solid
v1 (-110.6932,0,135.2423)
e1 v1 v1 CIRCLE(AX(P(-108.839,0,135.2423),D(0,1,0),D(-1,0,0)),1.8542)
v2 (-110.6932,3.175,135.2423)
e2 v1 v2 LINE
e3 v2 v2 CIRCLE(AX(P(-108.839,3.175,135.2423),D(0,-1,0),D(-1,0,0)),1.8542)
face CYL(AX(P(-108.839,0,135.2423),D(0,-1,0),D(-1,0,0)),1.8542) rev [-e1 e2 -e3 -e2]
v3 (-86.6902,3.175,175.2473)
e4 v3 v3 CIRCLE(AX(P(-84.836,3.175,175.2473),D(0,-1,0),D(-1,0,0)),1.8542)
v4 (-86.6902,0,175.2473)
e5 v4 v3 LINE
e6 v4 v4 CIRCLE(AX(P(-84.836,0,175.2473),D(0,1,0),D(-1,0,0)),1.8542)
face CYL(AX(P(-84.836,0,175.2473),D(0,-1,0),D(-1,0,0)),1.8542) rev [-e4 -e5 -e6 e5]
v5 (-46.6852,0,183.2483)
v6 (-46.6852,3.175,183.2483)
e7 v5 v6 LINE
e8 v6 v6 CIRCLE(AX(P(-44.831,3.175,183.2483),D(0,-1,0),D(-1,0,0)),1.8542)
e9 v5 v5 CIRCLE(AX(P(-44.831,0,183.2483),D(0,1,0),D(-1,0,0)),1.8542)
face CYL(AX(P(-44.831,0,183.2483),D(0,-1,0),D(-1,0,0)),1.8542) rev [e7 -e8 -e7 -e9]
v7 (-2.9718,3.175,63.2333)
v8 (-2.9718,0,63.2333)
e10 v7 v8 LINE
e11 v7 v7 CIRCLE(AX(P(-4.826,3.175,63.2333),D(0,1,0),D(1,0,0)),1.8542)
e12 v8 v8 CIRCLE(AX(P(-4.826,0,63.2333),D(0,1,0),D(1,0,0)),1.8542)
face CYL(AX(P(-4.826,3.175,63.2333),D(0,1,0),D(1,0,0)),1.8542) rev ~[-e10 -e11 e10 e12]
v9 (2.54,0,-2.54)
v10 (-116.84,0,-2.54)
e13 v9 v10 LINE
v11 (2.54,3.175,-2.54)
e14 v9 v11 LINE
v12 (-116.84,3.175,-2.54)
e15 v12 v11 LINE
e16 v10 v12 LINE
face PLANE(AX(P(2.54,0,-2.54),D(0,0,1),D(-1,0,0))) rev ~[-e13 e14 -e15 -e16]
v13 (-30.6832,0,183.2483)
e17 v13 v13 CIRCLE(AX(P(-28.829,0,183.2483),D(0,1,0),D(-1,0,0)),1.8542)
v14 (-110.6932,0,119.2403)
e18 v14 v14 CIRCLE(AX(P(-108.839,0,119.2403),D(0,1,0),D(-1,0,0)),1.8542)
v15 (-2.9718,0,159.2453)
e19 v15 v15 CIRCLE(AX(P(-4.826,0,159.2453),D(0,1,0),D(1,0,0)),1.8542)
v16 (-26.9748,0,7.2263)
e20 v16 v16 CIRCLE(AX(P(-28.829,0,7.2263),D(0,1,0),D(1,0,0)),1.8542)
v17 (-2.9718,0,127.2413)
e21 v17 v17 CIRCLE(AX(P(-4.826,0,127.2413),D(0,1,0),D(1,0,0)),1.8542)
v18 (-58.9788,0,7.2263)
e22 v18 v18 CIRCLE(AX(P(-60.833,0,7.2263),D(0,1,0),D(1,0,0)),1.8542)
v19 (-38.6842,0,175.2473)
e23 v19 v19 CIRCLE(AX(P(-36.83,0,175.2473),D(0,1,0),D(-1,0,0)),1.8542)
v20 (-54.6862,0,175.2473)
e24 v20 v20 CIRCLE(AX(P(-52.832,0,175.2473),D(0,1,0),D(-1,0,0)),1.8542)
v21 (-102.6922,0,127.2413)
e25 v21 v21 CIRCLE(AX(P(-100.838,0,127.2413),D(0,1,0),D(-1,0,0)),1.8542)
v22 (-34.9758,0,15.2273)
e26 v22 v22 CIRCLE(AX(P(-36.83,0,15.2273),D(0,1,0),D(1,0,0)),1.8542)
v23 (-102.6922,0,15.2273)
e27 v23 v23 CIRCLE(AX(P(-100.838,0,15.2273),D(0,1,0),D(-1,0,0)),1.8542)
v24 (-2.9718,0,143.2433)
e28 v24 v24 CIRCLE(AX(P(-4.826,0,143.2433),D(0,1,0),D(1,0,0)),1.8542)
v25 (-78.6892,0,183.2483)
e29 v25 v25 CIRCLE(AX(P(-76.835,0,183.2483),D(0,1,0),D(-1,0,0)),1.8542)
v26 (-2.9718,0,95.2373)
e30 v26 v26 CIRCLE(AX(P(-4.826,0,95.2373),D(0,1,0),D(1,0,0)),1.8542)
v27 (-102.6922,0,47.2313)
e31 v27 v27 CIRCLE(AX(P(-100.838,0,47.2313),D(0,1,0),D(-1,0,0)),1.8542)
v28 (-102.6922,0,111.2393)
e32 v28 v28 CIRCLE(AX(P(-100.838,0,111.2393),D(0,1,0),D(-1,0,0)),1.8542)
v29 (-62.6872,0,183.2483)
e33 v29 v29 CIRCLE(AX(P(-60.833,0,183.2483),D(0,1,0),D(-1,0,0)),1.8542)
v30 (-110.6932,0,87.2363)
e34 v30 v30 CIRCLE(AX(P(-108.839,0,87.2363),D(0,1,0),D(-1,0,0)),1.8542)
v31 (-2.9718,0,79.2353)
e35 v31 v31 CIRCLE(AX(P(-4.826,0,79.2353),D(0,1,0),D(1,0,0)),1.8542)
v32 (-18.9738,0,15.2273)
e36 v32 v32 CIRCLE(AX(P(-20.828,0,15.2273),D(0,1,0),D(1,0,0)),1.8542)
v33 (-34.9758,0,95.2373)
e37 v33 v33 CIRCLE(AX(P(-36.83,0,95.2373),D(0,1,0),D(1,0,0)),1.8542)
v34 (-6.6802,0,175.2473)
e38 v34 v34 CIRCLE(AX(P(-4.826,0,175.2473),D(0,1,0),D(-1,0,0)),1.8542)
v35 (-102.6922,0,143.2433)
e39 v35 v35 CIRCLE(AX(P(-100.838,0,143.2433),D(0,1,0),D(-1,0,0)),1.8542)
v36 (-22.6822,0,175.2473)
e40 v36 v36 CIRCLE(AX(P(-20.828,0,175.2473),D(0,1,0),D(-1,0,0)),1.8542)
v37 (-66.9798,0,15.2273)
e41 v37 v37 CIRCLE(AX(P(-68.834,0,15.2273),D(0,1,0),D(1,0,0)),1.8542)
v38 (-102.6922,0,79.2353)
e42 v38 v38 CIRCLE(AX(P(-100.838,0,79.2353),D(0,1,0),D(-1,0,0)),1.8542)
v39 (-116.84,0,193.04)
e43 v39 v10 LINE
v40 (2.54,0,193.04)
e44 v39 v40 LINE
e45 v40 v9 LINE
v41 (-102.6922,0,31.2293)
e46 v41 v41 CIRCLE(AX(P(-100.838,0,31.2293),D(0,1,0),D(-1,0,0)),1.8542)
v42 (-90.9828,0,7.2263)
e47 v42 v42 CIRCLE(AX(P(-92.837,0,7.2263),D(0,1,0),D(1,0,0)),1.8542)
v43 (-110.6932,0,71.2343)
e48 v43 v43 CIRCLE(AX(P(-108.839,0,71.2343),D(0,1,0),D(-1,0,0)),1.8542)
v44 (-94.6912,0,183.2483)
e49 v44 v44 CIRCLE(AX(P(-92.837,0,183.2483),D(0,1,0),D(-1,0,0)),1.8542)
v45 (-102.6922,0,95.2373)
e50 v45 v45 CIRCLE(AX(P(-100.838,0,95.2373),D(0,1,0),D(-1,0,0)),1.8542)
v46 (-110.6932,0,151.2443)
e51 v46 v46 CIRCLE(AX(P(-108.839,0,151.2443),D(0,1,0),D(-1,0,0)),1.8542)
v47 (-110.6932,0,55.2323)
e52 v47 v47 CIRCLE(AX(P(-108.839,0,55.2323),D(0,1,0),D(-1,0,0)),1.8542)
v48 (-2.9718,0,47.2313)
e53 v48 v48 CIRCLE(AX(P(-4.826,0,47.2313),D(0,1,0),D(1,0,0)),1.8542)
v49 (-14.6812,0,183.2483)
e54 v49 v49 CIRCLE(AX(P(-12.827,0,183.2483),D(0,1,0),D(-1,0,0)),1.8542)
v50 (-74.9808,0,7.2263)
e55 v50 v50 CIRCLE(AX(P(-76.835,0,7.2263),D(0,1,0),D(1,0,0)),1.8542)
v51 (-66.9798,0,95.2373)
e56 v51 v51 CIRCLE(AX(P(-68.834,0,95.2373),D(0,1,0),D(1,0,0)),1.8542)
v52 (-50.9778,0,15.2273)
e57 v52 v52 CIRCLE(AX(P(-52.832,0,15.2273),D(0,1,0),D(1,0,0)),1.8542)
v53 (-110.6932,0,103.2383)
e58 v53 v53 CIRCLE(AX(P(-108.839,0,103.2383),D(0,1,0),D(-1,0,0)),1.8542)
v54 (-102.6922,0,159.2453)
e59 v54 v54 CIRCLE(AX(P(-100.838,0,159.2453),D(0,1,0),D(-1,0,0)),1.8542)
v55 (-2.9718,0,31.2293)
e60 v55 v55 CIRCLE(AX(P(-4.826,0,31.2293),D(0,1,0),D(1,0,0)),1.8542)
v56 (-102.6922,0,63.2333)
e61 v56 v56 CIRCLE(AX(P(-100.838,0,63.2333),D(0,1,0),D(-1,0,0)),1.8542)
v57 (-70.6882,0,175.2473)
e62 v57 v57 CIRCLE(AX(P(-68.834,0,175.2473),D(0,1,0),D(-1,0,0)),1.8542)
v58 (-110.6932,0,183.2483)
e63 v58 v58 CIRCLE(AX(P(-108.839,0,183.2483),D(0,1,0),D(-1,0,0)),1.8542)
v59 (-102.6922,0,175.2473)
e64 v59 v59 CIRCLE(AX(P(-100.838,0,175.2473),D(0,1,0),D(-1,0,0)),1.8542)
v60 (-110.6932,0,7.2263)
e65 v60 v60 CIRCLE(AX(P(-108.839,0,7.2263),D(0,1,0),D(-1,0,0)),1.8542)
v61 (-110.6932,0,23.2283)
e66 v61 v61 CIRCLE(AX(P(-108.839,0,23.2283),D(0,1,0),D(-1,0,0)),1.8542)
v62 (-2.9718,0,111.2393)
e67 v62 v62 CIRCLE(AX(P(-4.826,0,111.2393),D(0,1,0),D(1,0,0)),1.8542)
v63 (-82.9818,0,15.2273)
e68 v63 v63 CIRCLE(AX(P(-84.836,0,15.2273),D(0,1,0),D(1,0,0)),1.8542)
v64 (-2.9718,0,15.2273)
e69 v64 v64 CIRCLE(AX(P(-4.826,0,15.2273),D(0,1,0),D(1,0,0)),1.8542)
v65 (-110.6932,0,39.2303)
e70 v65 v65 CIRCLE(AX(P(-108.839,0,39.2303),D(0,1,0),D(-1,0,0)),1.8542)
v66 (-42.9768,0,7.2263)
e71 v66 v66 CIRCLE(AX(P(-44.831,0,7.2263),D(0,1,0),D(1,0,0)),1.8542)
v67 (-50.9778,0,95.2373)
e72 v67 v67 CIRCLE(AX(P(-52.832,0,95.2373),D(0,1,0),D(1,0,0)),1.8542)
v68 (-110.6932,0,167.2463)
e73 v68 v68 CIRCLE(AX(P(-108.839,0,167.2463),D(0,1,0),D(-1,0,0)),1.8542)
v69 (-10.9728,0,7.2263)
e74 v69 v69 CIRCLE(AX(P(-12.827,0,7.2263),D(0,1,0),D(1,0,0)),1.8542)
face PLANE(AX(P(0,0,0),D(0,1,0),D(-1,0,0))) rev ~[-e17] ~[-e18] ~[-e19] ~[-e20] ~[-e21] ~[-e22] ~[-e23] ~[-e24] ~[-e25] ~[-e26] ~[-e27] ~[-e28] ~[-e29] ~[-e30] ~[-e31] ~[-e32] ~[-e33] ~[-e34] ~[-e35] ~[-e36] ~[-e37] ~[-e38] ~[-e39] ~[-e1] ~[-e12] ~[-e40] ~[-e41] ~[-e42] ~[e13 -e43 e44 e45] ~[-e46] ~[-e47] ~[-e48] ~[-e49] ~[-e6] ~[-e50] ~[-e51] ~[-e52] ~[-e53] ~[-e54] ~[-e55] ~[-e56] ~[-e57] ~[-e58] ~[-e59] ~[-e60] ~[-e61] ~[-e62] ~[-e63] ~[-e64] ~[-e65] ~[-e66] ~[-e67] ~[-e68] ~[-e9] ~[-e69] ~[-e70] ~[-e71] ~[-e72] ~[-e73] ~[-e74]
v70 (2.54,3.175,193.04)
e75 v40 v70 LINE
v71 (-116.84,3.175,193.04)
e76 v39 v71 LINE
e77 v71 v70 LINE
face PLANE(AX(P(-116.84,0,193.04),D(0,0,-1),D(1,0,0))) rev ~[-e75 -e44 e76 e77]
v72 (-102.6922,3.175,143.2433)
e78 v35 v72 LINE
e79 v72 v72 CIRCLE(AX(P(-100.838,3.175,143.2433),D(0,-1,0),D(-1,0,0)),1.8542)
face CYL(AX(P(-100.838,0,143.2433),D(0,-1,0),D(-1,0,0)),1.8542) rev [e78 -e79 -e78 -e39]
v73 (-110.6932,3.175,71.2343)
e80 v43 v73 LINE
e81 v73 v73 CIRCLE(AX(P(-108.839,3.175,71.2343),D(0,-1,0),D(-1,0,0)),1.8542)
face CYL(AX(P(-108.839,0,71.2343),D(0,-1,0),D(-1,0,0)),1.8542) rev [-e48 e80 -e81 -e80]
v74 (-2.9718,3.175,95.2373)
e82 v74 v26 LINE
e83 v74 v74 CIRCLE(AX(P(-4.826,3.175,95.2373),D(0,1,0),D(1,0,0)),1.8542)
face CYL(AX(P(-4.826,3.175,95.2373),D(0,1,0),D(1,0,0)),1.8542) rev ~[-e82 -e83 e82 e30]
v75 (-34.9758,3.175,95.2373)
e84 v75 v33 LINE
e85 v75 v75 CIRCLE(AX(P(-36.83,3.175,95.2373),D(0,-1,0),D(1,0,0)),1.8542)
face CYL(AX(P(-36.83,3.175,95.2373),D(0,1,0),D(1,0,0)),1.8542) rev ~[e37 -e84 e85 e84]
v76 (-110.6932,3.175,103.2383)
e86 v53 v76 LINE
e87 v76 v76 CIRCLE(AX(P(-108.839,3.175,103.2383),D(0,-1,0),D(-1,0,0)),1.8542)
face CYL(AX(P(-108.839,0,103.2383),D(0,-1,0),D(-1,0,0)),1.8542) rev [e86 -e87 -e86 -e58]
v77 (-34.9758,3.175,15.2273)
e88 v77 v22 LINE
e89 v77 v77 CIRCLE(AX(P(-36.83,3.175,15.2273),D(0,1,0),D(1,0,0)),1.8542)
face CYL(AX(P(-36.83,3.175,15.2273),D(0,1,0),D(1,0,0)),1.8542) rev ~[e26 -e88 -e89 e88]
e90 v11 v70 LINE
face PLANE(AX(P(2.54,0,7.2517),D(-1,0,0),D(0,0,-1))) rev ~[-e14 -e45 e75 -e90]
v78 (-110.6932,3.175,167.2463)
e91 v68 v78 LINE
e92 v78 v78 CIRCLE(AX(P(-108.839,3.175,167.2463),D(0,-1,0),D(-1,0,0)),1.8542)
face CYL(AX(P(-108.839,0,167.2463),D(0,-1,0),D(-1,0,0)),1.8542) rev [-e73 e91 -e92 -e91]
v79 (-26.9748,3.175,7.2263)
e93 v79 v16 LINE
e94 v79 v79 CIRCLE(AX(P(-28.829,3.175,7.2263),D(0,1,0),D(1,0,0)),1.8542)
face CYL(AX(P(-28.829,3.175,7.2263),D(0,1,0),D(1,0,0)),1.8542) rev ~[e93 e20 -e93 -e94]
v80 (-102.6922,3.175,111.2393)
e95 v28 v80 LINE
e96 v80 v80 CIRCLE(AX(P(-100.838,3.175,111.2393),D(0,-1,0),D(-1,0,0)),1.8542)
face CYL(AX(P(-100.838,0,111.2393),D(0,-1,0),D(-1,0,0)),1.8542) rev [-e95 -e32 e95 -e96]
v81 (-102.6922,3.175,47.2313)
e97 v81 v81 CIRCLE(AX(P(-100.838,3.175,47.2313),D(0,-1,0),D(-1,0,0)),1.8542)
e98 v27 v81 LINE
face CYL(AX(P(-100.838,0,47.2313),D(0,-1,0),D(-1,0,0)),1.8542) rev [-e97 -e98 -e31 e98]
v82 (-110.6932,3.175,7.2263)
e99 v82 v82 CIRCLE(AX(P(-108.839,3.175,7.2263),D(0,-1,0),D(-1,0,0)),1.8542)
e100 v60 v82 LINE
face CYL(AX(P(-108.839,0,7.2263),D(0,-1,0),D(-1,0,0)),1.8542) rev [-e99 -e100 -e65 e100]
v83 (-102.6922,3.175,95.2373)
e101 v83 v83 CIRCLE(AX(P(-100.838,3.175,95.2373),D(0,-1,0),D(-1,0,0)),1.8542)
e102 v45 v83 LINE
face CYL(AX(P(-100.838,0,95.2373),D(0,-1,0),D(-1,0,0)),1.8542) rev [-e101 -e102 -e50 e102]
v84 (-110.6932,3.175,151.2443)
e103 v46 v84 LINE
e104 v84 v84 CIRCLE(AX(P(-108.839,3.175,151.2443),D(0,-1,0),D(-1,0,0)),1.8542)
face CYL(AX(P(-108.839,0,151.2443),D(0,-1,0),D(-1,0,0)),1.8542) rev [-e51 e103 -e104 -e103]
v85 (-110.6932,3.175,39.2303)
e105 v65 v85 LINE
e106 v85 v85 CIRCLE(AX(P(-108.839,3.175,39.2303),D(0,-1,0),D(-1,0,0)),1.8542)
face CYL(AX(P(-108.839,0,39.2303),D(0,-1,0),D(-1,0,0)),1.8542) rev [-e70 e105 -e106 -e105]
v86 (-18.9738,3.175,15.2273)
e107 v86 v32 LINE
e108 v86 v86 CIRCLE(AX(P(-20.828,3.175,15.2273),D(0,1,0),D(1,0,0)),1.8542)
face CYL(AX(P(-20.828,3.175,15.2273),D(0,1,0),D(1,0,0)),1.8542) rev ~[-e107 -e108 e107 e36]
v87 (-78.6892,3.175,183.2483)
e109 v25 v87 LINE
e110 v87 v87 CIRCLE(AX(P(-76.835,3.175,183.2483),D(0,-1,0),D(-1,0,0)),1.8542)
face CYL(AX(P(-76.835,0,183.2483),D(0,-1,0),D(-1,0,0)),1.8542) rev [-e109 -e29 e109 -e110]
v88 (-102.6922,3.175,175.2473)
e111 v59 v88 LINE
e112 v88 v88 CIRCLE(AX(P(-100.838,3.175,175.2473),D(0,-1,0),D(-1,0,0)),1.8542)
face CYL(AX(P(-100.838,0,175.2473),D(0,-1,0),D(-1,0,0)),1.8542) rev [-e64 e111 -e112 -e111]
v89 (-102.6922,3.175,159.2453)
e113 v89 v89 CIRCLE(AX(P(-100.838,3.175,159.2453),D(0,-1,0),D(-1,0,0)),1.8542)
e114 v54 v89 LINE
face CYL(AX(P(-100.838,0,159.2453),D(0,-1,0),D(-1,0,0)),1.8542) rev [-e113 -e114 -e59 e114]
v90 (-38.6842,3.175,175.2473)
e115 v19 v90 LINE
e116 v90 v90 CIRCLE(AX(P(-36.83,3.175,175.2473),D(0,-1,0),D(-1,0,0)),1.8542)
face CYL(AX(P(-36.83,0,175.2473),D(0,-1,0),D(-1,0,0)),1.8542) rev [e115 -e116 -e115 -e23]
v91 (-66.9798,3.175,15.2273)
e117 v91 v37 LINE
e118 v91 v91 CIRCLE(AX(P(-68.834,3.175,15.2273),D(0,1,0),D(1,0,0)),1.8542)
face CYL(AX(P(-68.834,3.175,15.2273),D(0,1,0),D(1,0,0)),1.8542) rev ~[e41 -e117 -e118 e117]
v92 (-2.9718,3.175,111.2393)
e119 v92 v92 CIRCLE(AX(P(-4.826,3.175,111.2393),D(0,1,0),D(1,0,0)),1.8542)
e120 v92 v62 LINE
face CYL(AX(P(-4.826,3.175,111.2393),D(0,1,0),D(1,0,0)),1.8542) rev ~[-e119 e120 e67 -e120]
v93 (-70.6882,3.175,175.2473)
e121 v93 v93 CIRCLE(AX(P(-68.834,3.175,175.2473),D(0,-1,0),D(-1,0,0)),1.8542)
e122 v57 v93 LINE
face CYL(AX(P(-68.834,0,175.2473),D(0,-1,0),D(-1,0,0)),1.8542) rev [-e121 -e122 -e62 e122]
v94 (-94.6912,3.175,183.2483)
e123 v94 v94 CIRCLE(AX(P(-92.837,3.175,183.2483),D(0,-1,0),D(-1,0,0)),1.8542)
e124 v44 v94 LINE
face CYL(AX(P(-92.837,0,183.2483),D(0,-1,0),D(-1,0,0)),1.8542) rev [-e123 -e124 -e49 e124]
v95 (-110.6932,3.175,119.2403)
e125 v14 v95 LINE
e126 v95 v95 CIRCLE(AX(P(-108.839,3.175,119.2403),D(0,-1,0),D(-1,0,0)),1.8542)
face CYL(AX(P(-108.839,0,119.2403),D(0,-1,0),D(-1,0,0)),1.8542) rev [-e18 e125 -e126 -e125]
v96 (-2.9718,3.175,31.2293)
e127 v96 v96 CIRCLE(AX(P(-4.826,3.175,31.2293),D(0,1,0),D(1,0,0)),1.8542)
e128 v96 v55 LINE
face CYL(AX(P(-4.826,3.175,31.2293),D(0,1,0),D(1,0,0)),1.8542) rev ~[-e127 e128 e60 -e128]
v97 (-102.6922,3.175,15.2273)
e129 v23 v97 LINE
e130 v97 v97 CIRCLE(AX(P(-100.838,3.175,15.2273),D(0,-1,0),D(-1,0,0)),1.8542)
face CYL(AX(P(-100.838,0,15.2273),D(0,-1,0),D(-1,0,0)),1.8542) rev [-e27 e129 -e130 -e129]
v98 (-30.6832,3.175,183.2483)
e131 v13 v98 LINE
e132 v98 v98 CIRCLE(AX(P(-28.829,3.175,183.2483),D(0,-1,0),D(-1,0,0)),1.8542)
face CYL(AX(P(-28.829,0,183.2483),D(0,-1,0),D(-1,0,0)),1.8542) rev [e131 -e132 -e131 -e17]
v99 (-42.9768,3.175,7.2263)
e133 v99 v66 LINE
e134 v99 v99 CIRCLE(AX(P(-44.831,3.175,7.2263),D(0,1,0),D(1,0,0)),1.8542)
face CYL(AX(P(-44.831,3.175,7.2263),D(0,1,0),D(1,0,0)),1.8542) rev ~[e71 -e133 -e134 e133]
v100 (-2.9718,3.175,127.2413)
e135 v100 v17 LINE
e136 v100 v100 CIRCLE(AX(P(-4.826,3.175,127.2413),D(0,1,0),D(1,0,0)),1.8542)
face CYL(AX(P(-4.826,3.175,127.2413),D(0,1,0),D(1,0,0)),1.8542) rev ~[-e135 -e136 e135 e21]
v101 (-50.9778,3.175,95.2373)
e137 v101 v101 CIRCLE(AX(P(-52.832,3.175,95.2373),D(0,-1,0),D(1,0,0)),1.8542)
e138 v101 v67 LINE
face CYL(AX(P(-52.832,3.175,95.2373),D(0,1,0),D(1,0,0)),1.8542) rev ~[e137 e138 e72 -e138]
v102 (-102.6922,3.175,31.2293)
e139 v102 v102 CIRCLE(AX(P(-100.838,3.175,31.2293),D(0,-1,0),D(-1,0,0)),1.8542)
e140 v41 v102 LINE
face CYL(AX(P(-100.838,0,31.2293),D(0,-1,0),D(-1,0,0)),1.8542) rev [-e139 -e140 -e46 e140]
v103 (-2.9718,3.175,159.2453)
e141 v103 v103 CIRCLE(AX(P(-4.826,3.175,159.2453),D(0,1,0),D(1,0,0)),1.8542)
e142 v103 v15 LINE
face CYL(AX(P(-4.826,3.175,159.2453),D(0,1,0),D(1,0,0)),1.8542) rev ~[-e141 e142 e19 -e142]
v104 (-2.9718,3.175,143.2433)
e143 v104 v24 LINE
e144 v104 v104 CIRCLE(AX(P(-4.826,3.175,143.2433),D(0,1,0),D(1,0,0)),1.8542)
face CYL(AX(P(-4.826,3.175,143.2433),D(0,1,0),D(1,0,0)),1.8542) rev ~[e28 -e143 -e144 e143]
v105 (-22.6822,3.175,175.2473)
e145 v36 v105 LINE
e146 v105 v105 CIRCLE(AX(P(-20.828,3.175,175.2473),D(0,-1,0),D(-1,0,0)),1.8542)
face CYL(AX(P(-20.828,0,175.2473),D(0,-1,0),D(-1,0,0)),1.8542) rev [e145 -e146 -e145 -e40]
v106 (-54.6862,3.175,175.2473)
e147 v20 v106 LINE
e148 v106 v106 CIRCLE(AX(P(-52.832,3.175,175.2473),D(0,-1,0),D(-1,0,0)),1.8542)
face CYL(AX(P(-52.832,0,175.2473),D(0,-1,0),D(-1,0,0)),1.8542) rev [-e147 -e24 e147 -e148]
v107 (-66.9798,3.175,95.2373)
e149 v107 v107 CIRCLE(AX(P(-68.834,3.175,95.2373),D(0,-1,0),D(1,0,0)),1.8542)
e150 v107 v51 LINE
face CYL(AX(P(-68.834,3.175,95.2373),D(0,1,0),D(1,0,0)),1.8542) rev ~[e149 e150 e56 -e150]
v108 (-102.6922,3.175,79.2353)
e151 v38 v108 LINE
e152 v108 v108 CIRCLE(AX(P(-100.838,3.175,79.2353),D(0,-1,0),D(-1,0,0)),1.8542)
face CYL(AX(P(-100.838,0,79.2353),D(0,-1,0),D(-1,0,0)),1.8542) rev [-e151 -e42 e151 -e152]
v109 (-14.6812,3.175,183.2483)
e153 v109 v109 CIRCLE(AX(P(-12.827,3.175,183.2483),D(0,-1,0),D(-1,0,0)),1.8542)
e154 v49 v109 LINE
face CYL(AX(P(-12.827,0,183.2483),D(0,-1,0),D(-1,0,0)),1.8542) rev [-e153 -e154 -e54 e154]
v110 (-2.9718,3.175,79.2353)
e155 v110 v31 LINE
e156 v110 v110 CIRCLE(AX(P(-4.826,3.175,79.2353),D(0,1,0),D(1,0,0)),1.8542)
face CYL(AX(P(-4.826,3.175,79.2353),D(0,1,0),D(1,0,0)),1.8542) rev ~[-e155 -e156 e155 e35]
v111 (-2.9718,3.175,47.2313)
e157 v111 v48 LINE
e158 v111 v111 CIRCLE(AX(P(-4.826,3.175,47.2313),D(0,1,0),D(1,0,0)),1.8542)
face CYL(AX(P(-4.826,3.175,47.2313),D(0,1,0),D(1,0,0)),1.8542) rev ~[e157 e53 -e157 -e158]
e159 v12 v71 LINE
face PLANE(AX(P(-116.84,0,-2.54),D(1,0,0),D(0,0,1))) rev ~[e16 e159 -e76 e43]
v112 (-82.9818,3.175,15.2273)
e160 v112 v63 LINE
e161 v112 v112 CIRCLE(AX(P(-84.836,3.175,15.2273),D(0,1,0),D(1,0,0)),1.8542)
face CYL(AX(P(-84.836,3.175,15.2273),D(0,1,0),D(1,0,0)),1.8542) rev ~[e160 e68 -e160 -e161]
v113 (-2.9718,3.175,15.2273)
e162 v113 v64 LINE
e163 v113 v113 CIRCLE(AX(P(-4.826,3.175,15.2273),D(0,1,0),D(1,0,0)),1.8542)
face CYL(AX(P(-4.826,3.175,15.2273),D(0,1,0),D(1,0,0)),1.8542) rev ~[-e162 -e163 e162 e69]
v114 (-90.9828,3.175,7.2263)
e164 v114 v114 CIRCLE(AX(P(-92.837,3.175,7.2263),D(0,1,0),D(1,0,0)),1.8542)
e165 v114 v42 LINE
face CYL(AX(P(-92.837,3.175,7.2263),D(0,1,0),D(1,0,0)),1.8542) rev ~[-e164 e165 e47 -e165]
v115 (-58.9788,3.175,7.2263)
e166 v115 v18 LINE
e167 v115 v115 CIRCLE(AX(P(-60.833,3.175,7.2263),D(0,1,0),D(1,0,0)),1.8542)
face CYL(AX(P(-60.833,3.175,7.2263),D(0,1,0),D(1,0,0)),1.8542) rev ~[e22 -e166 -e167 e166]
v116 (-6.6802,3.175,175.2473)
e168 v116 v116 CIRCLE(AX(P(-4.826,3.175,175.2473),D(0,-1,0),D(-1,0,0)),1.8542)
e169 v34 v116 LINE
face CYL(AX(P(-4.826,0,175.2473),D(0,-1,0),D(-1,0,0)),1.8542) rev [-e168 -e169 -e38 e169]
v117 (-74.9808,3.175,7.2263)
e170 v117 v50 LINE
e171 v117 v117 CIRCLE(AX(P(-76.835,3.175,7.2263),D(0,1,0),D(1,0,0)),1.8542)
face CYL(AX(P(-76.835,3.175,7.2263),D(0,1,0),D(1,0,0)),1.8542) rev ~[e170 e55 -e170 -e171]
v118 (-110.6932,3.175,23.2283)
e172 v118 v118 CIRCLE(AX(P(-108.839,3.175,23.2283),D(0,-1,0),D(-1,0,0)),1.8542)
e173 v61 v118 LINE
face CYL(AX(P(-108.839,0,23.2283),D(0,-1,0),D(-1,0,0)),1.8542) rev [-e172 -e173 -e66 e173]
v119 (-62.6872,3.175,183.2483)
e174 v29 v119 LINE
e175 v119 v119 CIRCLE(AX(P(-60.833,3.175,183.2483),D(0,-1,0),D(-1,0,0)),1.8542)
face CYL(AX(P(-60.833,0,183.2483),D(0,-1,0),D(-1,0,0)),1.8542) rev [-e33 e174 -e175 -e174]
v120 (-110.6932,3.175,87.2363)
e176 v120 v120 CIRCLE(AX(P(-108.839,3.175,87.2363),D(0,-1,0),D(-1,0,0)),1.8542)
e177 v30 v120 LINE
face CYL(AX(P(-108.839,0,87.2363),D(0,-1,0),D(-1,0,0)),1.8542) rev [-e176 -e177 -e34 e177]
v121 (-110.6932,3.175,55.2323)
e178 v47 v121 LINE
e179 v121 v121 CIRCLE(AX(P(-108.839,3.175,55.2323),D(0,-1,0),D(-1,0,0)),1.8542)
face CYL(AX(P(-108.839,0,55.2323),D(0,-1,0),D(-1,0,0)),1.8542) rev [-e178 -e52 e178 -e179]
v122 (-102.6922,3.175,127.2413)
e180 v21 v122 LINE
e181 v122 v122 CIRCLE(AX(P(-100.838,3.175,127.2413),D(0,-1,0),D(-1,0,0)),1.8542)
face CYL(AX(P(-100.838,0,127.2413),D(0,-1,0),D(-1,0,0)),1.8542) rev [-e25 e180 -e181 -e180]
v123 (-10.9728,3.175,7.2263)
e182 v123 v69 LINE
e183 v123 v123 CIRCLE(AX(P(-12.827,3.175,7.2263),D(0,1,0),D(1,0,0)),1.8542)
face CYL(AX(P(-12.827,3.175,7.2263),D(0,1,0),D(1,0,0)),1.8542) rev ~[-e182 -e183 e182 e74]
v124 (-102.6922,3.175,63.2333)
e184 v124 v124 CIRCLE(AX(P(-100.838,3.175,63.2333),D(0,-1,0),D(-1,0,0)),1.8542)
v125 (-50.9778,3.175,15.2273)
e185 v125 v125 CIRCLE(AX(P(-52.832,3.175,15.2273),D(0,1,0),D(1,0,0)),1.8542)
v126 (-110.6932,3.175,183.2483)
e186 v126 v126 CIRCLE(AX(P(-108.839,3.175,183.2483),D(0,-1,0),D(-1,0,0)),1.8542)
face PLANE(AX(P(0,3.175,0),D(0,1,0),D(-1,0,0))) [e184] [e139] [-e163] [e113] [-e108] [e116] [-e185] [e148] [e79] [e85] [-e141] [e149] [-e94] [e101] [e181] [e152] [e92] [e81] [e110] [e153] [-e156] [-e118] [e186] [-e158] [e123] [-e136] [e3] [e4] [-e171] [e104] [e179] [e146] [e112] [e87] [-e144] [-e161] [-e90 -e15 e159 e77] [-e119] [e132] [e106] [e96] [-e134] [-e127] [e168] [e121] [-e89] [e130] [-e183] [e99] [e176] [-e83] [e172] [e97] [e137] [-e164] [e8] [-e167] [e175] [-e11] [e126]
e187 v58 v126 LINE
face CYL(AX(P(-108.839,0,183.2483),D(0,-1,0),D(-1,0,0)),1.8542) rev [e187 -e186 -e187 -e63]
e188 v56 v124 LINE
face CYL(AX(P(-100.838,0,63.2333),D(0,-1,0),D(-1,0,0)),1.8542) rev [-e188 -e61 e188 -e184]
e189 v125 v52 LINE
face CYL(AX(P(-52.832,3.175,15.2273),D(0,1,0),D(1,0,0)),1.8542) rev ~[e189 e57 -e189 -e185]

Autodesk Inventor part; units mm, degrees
ref_plane "YZ Plane" through (0, 0, 0) normal (1, 0, 0) x (0, 1, 0)
ref_plane "XZ Plane" through (0, 0, 0) normal (0, 1, 0) x (-1, 0, 0)
ref_plane "XY Plane" through (0, 0, 0) normal (0, 0, 1) x (1, 0, 0)
sketch "Sketch1" plane through (0, 0, 0) normal (0, 1, 0) x (-1, 0, 0)
  arc A0 (334.15, 5.5) -> (337.85, 5.5) centre (336, 5.5) ccw
  arc A1 (345.85, 13.5) -> (342.15, 13.5) centre (344, 13.5) ccw
  arc A2 (329.85, 13.5) -> (326.15, 13.5) centre (328, 13.5) ccw
  arc A3 (328.4931, 19.1569) -> (332.1931, 19.1569) centre (330.3431, 19.1569) ccw
  arc A4 (334.15, 21.5) -> (337.85, 21.5) centre (336, 21.5) ccw
  arc A5 (332, 13.5) -> (340, 13.5) centre (336, 13.5) ccw
  arc A6 (337.85, 181.5) -> (334.15, 181.5) centre (336, 181.5) ccw
  arc A7 (334.15, 197.5) -> (337.85, 197.5) centre (336, 197.5) ccw
  arc A8 (340, 189.5) -> (332, 189.5) centre (336, 189.5) ccw
  arc A9 (329.85, 189.5) -> (326.15, 189.5) centre (328, 189.5) ccw
  arc A10 (345.85, 189.5) -> (342.15, 189.5) centre (344, 189.5) ccw
  line L0 (352, 176) -> (352, 203)
  arc A11 (244, 13.5) -> (236, 13.5) centre (240, 13.5) ccw
  arc A12 (241.85, 21.5) -> (238.15, 21.5) centre (240, 21.5) ccw
  arc A13 (244, 189.5) -> (236, 189.5) centre (240, 189.5) ccw
  arc A14 (233.85, 189.5) -> (230.15, 189.5) centre (232, 189.5) ccw
  line L1 (228.8458, 84.7173) -> (228.8458, 88.629)
  arc A15 (336, 137.5) -> (336, 145.5) centre (336, 141.5) ccw
  arc A16 (336, 121.5) -> (336, 129.5) centre (336, 125.5) ccw
  arc A17 (336, 105.5) -> (336, 113.5) centre (336, 109.5) ccw
  arc A18 (336, 89.5) -> (336, 97.5) centre (336, 93.5) ccw
  arc A19 (336, 73.5) -> (336, 81.5) centre (336, 77.5) ccw
  arc A20 (336, 57.5) -> (336, 65.5) centre (336, 61.5) ccw
  arc A21 (336, 41.5) -> (336, 49.5) centre (336, 45.5) ccw
  arc A22 (336, 25.5) -> (336, 33.5) centre (336, 29.5) ccw
  arc A23 (336, 153.5) -> (336, 161.5) centre (336, 157.5) ccw
  arc A24 (336, 169.5) -> (336, 177.5) centre (336, 173.5) ccw
  arc A25 (260, 189.5) -> (252, 189.5) centre (256, 189.5) ccw
  arc A26 (276, 189.5) -> (268, 189.5) centre (272, 189.5) ccw
  arc A27 (292, 189.5) -> (284, 189.5) centre (288, 189.5) ccw
  arc A28 (308, 189.5) -> (300, 189.5) centre (304, 189.5) ccw
  arc A29 (324, 189.5) -> (316, 189.5) centre (320, 189.5) ccw
  line L2 (352, 203) -> (228.8458, 203)
  line L3 (228.8458, 203) -> (228.8458, 0)
  line L4 (228.8458, 0) -> (352, 0)
  line L5 (352, 0) -> (352, 203)
  line L6 (-2.54, -2.54) -> (116.84, -2.54)
  line L7 (116.84, -2.54) -> (116.84, 193.04)
  line L8 (116.84, 193.04) -> (-2.54, 193.04)
  line L9 (-2.54, 193.04) -> (-2.54, -2.54)
  line L10 (-2.54, 95.25) -> (-2.54, 183.2483)
  line L11 (-2.54, 183.2483) -> (116.84, 183.2483)
  line L12 (-2.54, 183.2483) -> (-2.54, 7.2517)
  line L13 (-2.54, 7.2517) -> (116.84, 7.2517)
  line L14 (116.84, 183.2483) -> (100.838, 183.2483)
  line L15 (100.838, 183.2483) -> (100.838, 7.2517)
  circle A30 centre (100.838, 183.2483) radius 4.0005
  circle A31 centre (84.836, 183.2483) radius 4.0005
  circle A32 centre (68.834, 183.2483) radius 4.0005
  circle A33 centre (52.832, 183.2483) radius 4.0005
  circle A34 centre (36.83, 183.2483) radius 4.0005
  circle A35 centre (20.828, 183.2483) radius 4.0005
  circle A36 centre (4.826, 183.2483) radius 4.0005
  line L16 (100.838, 183.2483) -> (100.838, 175.2473)
  circle A37 centre (100.838, 175.2473) radius 1.8542
  line L17 (100.838, 183.2483) -> (104.5464, 183.2483)
  line L18 (100.838, 183.2483) -> (108.839, 183.2483)
  circle A38 centre (108.839, 183.2483) radius 1.8542
  point P0 (287.9997, 29.5)
  point P1 (228.8458, 85.5356)
  dimension "d0" = 203
  dimension "d1" = 123.1542
  dimension "d2" = 119.38
  dimension "d3" = 195.58
  dimension "d4" = 87.9983
  dimension "d5" = 175.9966
  dimension "d6" = 16.002
  dimension "d7" = 8.001
  dimension "d10" = 16.002
  dimension "d15" = 8.001
  dimension "d16" = 3.7084
  dimension "d17" = 3.7084
  dimension "d18" = 8.001
  dimension "d19" = 3.7084
extrude "Extrusion1" add sketch "Sketch1" along normal blind 3.175 contours L9 L13 L7 L6 | L9 L11 A36 A35 A34 A33 A32 A31 A30 L15 A37 L13 | L13 L15 A37 A30 L11 A38 L7 | L11 A38 A30 A31 A32 A33 A34 A35 A36 L9 L8 L7 | A37 L15 | L15 A37 | A38 L11 | L11 A38 | A36 L11 | L11 A36 | A30 L11 L15 | L15 L11 A30 | L11 A30 | A35 L11 | L11 A35 | A31 L11 | L11 A31 | A34 L11 | L11 A34 | A32 L11 | L11 A32 | A33 L11 | L11 A33
extrude "Extrusion2" cut sketch "Sketch1" along normal blind 3.175 contours A37 L15 | L15 A37 | A38 L11 | L11 A38
pattern_linear "Rectangular Pattern1" count 7 spacing 16.002 along (1, 0, 0) of "Extrusion2"
pattern_linear "Rectangular Pattern2" count 12 spacing 16.002 along (0, 0, -1) of "Extrusion2"
sketch "Sketch2" plane through (0, 3.175, 0) normal (0, 1, 0) x (1, 0, 0)
  arc A0 (-101.4053, 2.54) -> (-100.2707, 2.54) centre (-100.838, 0.7747) ccw projected
  line L0 (2.54, 2.54) -> (-100.2707, 2.54) projected
  line L1 (-101.4053, 2.54) -> (-100.2707, 2.54)
  point P0 (0, 0)
extrude "Extrusion3" add sketch "Sketch2" against normal up to surface (3.175 mm away)
sketch "Sketch3" plane through (0, 3.175, 0) normal (0, 1, 0) x (1, 0, 0)
  line L0 (2.54, 2.54) -> (-116.84, 2.54) projected
  circle A0 centre (-108.839, -7.2263) radius 1.8542 projected
  circle A1 centre (-100.838, -15.2273) radius 1.8542 projected
  circle A2 centre (-108.839, -7.2263) radius 1.8542
  circle A3 centre (-100.838, -15.2273) radius 1.8542
  circle A4 centre (-92.837, -7.2263) radius 1.8542
  circle A5 centre (-84.836, -15.2273) radius 1.8542
  circle A6 centre (-76.835, -7.2263) radius 1.8542
  circle A7 centre (-68.834, -15.2273) radius 1.8542
  circle A8 centre (-60.833, -7.2263) radius 1.8542
  circle A9 centre (-52.832, -15.2273) radius 1.8542
  circle A10 centre (-44.831, -7.2263) radius 1.8542
  circle A11 centre (-36.83, -15.2273) radius 1.8542
  circle A12 centre (-28.829, -7.2263) radius 1.8542
  circle A13 centre (-20.828, -15.2273) radius 1.8542
  circle A14 centre (-12.827, -7.2263) radius 1.8542
  circle A15 centre (-4.826, -15.2273) radius 1.8542
  point P0 (0, 0)
  dimension "d34" = 16.002
extrude "Extrusion4" cut sketch "Sketch3" against normal blind 3.175 contours A4 | A5 | A6 | A7 | A8 | A9 | A10 | A11 | A12 | A13 | A14 | A15
sketch "Sketch4" plane through (0, 3.175, 0) normal (0, 1, 0) x (1, 0, 0)
  circle A0 centre (-36.83, -15.2273) radius 1.8542 projected
  circle A1 centre (-52.832, -15.2273) radius 1.8542 projected
  circle A2 centre (-68.834, -15.2273) radius 1.8542 projected
  line L0 (2.54, -193.04) -> (2.54, 2.54) projected
  circle A3 centre (-36.83, -175.2473) radius 1.8542 projected
  circle A4 centre (-52.832, -175.2473) radius 1.8542 projected
  circle A5 centre (-68.834, -175.2473) radius 1.8542 projected
  line L1 (-68.834, -175.2473) -> (-68.834, -15.2273)
  line L2 (-68.834, -15.2273) -> (-52.832, -15.2273)
  line L3 (-52.832, -15.2273) -> (-52.832, -175.2473)
  line L4 (-52.832, -175.2473) -> (-36.83, -175.2473)
  line L5 (-36.83, -175.2473) -> (-36.83, -15.2273)
  circle A6 centre (-68.834, -95.2373) radius 1.8542
  circle A7 centre (-52.832, -95.2373) radius 1.8542
  circle A8 centre (-36.83, -95.2373) radius 1.8542
  point P0 (0, 0)
  dimension "d41" = 3.7084
  dimension "d42" = 3.7084
  dimension "d43" = 3.7084
extrude "Extrusion5" cut sketch "Sketch4" against normal blind 25.4 contours A6 L1 | L1 A6 | A7 L3 | L3 A7 | A8 L5 | L5 A8
sketch "Sketch5" plane through (0, 3.175, 0) normal (0, 1, 0) x (1, 0, 0)
  circle A0 centre (-4.826, -159.2453) radius 1.8542
  point P0 (0, 0)
  dimension "d46" = 3.7084
extrude "Extrusion6" cut sketch "Sketch5" against normal blind 25.4
pattern_linear "Rectangular Pattern3" count 9 spacing 16.002 along (0, 0, -1) of "Extrusion6"
properties part number "Electronics Board" material "ABS Plastic"
